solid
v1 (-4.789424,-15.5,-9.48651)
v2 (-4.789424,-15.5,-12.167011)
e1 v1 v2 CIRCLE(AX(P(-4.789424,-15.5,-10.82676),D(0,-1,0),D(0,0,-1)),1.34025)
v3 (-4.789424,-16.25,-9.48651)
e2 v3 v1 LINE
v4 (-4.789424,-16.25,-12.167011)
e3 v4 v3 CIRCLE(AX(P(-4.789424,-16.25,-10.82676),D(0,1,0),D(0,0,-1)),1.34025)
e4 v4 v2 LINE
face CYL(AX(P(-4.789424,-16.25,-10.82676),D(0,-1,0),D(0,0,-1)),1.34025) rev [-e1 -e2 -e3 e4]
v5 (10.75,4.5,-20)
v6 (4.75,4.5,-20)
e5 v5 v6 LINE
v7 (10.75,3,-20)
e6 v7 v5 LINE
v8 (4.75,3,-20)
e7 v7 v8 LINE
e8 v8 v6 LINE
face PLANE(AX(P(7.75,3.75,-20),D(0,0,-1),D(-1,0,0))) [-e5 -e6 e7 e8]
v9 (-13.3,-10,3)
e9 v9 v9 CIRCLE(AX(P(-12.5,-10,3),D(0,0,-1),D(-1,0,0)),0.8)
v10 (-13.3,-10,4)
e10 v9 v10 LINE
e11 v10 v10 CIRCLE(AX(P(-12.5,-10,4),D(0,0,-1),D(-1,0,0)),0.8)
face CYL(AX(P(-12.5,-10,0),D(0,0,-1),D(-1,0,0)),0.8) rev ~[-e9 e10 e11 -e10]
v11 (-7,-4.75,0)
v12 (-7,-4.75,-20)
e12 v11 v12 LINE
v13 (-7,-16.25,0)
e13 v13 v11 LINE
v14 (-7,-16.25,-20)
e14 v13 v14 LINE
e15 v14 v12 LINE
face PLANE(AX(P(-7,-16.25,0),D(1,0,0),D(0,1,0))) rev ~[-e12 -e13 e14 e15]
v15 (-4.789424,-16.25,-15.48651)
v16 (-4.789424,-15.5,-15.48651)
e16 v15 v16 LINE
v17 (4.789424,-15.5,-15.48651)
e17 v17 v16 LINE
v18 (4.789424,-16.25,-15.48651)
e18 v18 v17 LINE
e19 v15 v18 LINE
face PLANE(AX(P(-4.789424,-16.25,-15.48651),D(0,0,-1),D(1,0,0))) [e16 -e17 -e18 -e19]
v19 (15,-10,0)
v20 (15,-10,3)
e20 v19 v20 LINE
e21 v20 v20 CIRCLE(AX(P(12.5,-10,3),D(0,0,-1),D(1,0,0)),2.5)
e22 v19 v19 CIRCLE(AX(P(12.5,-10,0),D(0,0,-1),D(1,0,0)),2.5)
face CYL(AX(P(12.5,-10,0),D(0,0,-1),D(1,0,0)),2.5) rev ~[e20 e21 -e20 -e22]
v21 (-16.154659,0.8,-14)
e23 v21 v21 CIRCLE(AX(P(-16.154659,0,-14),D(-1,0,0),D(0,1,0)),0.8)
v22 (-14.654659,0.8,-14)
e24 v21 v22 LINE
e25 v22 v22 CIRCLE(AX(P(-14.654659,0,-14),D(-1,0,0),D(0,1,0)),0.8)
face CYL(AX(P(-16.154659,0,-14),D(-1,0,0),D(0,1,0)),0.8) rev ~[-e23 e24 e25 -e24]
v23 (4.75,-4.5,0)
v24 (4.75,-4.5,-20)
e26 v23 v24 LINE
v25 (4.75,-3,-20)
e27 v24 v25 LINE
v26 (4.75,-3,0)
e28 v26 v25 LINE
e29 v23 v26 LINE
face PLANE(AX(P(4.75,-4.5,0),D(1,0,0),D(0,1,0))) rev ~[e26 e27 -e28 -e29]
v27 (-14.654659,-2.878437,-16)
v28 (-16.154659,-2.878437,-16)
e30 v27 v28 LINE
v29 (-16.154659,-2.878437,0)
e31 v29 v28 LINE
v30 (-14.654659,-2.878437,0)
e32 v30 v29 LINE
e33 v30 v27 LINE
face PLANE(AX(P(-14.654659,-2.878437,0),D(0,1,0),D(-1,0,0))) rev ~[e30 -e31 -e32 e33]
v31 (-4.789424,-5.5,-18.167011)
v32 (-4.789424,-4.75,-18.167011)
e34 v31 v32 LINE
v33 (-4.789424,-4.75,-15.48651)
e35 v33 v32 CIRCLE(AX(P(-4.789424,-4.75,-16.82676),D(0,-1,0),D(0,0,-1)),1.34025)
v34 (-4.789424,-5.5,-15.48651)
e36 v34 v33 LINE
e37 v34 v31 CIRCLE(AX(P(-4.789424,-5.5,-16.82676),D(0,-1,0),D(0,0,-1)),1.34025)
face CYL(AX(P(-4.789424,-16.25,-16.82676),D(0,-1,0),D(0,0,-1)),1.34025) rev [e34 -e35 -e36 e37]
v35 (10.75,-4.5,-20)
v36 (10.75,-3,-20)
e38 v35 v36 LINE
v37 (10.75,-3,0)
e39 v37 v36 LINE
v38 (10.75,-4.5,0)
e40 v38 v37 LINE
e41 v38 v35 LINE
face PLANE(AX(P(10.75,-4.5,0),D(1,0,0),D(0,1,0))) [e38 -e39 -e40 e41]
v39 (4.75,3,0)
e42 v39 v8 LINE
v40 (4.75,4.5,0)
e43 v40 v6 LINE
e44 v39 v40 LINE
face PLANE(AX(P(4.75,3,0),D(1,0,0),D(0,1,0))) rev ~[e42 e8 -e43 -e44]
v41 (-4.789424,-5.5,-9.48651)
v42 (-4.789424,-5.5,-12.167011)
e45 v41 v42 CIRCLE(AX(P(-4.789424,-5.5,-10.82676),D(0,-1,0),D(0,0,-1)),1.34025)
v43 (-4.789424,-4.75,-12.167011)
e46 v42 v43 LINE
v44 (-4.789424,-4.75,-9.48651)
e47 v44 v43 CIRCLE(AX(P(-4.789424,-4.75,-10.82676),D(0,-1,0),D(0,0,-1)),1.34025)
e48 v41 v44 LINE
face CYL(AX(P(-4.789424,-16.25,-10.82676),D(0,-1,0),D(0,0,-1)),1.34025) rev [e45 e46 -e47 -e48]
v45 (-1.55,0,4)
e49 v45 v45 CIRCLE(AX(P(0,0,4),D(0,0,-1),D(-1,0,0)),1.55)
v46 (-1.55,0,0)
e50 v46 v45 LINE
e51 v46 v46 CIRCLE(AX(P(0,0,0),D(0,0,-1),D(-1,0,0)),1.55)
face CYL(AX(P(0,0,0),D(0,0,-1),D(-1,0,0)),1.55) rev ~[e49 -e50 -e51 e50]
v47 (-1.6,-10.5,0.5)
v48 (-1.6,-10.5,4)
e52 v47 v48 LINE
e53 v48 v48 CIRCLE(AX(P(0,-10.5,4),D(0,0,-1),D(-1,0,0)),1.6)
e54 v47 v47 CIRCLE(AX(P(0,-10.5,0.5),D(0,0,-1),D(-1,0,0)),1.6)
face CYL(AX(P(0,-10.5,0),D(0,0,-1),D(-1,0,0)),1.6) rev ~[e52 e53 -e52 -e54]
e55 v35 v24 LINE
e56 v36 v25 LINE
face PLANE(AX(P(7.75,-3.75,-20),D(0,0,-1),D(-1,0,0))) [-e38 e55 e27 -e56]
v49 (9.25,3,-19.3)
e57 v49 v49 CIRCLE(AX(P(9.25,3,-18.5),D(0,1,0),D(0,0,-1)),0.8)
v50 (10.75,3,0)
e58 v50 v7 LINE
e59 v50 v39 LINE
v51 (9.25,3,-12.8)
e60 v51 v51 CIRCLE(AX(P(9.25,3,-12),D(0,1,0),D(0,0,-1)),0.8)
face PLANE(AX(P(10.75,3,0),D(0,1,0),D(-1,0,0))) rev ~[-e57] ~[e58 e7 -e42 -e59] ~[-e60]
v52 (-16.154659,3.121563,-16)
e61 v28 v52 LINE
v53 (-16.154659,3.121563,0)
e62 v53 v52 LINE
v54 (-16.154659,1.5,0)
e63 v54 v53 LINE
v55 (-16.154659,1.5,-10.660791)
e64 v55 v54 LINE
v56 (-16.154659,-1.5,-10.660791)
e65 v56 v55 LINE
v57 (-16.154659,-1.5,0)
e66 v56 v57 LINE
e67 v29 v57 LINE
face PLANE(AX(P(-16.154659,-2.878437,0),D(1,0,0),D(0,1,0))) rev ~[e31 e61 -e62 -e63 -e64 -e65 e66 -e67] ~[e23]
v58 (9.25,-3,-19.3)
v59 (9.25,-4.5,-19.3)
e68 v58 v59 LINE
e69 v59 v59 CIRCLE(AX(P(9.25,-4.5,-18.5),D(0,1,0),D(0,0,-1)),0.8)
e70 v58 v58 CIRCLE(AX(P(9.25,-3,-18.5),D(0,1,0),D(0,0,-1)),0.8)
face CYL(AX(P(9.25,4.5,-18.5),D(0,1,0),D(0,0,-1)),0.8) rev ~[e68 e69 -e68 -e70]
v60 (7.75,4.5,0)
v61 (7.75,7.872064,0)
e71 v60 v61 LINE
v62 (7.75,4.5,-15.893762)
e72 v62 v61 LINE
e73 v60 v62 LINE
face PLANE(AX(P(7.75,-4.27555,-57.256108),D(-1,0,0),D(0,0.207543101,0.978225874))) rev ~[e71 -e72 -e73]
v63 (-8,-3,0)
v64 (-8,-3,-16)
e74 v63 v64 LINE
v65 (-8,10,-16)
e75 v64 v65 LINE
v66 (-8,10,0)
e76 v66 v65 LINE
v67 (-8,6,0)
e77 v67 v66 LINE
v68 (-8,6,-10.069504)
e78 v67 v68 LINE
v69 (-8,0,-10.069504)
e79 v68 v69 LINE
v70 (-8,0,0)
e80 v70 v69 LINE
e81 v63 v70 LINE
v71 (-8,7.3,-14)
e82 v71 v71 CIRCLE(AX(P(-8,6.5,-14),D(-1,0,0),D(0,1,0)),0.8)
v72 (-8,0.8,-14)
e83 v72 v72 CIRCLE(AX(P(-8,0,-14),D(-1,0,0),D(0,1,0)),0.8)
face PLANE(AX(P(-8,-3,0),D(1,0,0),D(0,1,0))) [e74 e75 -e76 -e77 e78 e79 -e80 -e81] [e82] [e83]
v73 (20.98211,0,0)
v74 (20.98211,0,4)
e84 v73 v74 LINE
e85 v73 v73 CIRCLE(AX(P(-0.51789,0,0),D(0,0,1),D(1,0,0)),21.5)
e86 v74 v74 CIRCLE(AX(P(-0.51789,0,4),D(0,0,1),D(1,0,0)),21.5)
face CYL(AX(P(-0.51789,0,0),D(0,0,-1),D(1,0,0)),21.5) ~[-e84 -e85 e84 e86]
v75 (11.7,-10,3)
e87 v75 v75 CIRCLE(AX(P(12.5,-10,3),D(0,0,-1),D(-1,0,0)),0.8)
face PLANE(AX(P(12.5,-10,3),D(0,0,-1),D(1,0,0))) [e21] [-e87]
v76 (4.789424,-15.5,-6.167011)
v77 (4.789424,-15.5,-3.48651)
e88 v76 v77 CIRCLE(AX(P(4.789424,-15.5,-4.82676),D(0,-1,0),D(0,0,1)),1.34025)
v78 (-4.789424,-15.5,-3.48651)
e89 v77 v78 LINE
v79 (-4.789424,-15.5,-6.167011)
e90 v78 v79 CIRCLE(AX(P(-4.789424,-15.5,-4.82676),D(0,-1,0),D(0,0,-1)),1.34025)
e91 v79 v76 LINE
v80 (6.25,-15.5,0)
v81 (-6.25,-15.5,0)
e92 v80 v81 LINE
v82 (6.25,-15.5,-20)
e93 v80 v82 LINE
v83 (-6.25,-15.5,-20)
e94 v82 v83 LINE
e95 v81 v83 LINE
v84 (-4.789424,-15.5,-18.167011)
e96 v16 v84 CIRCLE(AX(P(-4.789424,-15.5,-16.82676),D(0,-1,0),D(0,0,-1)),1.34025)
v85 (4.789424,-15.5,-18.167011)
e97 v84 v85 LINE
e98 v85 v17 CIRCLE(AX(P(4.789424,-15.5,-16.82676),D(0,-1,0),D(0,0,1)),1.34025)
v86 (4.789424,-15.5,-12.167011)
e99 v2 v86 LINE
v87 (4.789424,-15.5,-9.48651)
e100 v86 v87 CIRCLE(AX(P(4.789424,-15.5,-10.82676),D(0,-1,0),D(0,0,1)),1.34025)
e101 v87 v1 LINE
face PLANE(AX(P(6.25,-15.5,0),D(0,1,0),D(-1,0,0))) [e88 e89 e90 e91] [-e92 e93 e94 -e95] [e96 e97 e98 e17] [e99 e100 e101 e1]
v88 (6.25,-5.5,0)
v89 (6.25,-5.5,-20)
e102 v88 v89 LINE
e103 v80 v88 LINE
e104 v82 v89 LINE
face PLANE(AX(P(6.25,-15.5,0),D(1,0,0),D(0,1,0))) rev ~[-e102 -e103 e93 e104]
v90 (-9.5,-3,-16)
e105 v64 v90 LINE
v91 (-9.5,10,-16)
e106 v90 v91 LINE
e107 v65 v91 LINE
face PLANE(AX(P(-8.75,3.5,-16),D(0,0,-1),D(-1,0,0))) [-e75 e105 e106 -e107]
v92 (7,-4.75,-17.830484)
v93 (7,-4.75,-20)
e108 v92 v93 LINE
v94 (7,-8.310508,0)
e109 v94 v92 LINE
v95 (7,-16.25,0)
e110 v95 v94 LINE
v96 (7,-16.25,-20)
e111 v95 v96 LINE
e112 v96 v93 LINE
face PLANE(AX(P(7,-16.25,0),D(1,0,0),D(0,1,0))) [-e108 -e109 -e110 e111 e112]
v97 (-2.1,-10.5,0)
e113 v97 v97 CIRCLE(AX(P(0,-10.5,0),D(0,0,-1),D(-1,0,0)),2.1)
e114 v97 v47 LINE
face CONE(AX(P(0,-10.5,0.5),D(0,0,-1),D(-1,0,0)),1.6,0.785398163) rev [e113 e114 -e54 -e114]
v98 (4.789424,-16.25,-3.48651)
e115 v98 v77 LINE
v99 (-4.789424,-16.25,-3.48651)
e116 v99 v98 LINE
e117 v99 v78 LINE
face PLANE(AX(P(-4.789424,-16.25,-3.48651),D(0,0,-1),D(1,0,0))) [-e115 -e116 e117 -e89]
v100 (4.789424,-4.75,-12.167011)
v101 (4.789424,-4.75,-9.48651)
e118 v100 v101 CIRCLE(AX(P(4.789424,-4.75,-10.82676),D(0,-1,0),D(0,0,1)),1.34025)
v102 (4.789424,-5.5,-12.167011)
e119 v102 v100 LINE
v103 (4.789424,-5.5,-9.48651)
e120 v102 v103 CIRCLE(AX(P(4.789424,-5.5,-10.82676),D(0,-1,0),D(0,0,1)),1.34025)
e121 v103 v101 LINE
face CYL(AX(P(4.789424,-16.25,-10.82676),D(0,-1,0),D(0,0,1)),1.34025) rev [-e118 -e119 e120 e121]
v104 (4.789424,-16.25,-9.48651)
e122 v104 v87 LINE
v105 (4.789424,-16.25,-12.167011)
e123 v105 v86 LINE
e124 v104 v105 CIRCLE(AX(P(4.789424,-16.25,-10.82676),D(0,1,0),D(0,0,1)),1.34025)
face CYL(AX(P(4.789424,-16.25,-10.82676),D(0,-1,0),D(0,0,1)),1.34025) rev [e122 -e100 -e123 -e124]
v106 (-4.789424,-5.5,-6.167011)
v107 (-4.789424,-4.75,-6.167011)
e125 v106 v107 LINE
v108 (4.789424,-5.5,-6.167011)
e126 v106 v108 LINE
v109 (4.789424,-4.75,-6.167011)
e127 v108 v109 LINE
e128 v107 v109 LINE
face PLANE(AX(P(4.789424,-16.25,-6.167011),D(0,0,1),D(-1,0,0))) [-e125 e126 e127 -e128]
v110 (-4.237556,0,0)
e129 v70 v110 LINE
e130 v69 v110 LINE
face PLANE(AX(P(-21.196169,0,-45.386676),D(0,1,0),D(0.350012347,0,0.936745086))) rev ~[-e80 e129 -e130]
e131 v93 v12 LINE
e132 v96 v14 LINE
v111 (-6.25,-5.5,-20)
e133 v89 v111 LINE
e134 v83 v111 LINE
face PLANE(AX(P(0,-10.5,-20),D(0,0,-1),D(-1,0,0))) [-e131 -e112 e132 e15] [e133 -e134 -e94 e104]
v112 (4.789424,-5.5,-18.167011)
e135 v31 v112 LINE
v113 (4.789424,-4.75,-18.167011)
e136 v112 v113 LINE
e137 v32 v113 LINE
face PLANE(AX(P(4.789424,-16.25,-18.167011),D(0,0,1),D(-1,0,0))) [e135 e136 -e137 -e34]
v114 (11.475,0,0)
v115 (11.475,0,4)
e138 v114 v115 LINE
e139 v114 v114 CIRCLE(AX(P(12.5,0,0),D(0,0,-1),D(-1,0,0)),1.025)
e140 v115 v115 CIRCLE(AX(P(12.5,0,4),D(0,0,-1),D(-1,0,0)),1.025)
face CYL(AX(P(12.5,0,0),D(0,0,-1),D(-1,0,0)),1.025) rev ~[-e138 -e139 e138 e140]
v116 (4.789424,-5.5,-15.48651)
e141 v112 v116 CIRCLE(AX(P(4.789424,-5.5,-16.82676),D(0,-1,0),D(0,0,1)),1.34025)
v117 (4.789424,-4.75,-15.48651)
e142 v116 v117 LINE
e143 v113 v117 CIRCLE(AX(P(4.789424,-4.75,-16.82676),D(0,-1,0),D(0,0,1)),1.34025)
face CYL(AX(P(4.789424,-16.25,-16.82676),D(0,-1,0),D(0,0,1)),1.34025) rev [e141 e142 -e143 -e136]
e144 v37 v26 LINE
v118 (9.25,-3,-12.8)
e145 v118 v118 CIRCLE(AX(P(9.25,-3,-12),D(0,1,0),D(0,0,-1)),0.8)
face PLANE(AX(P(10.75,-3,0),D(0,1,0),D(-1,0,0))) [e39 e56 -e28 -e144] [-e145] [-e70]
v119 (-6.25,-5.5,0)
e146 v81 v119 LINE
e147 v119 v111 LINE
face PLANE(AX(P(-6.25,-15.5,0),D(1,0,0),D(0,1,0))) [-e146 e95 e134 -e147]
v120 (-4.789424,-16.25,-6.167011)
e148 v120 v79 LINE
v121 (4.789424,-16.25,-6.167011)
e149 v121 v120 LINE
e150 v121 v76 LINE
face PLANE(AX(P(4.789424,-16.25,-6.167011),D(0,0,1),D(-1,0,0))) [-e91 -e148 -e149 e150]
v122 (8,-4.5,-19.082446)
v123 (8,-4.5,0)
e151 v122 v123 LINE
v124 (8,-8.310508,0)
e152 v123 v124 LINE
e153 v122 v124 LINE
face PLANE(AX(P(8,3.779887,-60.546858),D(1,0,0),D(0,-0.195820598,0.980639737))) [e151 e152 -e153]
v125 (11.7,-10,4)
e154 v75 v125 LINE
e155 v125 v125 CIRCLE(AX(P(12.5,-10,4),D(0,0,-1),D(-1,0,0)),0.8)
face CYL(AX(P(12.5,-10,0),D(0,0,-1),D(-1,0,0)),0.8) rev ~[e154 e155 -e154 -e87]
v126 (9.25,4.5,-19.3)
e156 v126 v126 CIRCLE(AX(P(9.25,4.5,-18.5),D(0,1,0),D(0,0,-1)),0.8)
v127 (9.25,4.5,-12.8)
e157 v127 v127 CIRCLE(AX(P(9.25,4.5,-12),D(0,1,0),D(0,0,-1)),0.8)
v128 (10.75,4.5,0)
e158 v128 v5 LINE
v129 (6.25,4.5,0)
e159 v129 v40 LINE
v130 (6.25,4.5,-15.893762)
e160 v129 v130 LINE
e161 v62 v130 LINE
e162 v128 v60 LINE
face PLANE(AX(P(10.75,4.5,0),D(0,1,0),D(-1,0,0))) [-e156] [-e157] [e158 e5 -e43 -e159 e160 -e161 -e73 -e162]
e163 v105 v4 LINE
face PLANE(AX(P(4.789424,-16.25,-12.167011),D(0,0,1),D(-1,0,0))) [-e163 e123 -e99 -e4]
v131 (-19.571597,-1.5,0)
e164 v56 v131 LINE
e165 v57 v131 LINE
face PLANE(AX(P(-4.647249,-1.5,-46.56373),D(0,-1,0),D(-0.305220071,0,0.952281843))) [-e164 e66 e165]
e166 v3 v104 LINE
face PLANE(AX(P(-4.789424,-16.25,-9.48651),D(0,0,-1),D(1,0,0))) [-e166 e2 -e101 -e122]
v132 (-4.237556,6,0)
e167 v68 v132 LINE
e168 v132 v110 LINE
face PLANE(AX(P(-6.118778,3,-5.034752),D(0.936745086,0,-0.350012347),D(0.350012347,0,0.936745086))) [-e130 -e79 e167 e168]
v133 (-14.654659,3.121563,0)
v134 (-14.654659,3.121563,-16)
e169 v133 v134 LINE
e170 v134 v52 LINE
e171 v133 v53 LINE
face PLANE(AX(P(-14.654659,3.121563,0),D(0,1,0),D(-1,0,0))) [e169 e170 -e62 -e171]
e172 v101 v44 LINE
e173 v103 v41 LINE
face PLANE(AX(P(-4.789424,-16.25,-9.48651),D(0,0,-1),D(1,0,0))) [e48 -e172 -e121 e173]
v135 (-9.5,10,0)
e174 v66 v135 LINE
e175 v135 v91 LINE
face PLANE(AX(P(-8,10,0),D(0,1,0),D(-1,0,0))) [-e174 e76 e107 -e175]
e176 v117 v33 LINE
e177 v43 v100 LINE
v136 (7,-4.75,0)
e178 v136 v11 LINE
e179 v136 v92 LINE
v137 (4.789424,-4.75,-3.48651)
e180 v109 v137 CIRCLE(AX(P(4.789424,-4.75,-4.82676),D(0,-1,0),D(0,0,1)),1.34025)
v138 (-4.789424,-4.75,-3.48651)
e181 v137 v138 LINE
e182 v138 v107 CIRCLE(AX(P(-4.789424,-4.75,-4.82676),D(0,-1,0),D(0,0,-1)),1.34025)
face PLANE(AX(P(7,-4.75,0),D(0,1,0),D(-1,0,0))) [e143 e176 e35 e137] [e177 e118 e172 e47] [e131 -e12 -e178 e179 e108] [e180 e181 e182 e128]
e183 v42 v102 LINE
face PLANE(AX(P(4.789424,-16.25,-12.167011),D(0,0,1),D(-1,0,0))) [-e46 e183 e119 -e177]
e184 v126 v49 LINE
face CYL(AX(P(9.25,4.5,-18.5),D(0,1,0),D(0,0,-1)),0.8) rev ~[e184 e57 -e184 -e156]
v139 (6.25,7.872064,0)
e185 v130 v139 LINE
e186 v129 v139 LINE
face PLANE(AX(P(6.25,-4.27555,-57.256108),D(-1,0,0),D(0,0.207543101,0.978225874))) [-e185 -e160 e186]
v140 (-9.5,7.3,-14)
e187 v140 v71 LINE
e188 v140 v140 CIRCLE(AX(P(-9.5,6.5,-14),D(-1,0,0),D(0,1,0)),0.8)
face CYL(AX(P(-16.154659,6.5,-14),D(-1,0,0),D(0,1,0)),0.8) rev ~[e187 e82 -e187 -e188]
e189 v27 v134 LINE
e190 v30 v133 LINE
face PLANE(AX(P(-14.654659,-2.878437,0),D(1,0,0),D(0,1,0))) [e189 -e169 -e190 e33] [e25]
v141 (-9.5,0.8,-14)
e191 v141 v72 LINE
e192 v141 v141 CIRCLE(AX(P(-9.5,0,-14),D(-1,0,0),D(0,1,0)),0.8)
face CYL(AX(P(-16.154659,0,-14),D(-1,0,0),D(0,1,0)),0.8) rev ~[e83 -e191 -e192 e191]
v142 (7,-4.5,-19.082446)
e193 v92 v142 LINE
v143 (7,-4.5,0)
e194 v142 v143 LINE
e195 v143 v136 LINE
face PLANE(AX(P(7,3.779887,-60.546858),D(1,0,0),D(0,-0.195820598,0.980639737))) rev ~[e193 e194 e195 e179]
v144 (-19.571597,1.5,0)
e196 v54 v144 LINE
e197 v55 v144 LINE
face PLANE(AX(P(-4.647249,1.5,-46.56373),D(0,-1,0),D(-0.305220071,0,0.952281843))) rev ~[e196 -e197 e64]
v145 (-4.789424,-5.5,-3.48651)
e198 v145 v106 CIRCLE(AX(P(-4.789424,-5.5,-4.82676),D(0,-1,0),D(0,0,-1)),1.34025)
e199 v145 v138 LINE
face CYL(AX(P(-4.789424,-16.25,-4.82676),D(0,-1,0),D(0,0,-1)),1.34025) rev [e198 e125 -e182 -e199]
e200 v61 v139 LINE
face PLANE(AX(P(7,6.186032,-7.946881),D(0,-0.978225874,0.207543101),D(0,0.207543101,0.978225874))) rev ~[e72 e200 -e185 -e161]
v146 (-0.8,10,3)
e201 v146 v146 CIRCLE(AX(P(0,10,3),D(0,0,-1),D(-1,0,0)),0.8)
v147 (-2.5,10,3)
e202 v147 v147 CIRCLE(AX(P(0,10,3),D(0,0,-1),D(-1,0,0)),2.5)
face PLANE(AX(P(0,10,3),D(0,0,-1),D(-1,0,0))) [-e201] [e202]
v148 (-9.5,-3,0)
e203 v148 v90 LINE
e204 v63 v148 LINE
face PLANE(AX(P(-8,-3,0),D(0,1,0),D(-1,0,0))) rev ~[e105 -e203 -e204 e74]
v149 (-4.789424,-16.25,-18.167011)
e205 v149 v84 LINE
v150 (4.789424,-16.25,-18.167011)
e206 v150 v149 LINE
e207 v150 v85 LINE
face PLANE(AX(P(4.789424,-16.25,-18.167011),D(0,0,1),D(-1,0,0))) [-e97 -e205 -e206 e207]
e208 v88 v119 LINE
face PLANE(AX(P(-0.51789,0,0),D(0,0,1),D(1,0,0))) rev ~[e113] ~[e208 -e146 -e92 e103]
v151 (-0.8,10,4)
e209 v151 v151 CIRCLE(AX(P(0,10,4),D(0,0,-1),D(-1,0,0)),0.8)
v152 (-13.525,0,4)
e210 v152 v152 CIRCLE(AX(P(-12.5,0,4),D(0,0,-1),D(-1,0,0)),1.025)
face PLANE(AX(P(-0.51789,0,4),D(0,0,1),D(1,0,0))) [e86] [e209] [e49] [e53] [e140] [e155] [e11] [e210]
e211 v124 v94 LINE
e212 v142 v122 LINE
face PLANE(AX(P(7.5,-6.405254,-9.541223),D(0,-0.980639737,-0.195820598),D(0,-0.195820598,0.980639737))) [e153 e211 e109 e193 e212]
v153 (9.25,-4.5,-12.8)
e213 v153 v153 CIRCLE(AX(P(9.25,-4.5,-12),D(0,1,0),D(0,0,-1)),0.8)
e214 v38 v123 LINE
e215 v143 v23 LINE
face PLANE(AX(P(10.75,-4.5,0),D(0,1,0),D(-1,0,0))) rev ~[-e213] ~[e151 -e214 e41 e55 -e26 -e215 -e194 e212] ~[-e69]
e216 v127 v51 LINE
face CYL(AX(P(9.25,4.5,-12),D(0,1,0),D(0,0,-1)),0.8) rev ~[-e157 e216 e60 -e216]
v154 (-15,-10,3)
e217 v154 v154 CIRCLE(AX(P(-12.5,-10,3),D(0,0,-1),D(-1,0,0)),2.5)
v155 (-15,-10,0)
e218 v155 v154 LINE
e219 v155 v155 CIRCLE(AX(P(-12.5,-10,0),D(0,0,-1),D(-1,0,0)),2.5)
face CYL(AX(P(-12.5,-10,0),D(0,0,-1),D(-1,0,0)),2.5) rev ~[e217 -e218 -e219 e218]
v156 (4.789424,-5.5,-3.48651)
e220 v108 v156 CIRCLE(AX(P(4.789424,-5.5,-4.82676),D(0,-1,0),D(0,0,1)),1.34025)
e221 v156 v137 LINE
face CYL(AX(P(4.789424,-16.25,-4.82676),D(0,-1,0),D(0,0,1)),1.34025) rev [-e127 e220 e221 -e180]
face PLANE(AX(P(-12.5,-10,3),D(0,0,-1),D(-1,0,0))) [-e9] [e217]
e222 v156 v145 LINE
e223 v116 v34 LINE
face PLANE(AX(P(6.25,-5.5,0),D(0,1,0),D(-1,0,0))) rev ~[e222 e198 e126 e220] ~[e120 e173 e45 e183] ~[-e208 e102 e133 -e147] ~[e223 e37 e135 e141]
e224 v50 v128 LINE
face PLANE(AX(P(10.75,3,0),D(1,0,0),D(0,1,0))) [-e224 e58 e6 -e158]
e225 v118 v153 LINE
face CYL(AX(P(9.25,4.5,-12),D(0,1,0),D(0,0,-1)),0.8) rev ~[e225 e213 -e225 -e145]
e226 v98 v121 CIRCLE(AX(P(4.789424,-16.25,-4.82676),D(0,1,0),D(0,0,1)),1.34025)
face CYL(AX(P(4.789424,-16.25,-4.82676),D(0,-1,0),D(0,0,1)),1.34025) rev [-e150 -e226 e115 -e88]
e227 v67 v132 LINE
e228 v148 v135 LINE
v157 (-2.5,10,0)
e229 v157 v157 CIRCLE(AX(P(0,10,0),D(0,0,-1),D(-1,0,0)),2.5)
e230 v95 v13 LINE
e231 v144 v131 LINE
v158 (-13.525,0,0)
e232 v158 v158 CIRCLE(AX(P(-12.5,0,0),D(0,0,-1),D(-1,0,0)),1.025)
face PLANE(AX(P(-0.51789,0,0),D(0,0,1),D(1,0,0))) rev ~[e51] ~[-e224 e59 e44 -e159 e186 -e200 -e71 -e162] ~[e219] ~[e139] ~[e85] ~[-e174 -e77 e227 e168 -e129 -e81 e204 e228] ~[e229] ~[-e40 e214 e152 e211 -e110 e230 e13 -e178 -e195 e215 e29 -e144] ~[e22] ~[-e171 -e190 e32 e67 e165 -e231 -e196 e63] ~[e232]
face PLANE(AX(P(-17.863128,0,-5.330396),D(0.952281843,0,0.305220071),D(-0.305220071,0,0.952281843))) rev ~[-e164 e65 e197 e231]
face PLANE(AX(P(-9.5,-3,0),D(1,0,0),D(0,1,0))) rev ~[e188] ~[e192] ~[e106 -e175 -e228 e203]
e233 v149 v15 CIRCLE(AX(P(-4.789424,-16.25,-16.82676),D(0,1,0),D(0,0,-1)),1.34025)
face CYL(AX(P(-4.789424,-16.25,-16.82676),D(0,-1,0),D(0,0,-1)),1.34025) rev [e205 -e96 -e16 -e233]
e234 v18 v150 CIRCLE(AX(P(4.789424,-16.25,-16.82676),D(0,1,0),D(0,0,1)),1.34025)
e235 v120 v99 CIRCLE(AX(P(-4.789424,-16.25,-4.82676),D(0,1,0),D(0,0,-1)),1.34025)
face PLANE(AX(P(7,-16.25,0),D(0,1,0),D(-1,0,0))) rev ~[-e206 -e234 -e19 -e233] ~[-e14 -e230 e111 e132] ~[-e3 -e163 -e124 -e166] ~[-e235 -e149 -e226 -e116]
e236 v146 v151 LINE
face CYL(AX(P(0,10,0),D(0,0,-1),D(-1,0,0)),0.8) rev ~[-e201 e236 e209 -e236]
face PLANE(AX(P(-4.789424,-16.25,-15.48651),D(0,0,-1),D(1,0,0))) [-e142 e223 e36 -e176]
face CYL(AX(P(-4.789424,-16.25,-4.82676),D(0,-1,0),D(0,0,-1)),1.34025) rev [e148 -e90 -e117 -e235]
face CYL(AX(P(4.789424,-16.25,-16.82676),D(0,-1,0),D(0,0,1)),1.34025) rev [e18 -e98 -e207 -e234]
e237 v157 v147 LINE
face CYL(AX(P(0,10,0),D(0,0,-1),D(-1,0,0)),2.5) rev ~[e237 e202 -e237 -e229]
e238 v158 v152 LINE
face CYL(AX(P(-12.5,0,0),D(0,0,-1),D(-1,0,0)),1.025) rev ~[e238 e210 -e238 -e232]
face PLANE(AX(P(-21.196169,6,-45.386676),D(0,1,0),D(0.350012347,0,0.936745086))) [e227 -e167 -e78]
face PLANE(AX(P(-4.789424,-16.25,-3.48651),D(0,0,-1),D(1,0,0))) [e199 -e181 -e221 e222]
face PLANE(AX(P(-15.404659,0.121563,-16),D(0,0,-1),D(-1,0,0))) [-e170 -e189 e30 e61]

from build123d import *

# Parameters (mm, degrees)
SKETCH_1_R           = 21.5
EXTRUDE_1_DEPTH      = 4
SKETCH_2_R           = 1.55
CUT_EXTRUDE_1_DEPTH  = 32.032845297
SKETCH_3_R           = 1.025
CUT_EXTRUDE_4_DEPTH  = 32.032845297
SKETCH_3_3_R         = 2.5
CUT_EXTRUDE_5_DEPTH  = 3
SKETCH_4_R           = 0.8
CUT_EXTRUDE_6_DEPTH  = 32.032845297
SKETCH_5_R           = 1.6
CUT_EXTRUDE_7_DEPTH  = 32.032845297
CHAMFER_1_SIZE       = 0.5
SKETCH_6_W           = 14
SKETCH_6_H           = 11.5
SKETCH_6_W_2         = 12.5
SKETCH_6_H_2         = 10
EXTRUDE_2_DEPTH      = 20
CUT_EXTRUDE_8_DEPTH  = 49.060898735
SKETCH_9_W           = 1.5
SKETCH_9_H           = 13
SKETCH_9_H_2         = 6
EXTRUDE_3_DEPTH      = 16
SKETCH_10_R          = 0.8
CUT_EXTRUDE_9_DEPTH  = 48.343316459
SKETCH_11_W          = 6
SKETCH_11_H          = 1.5
EXTRUDE_4_DEPTH      = 20
SKETCH_12_R          = 0.8
CUT_EXTRUDE_10_DEPTH = 40.50680305
RIB_12_REACH         = 38.702
SKETCH_19_WALL_W     = 86.599014246
SKETCH_19_WALL_H     = 3
RIB_14_REACH         = 38.702
SKETCH_22_WALL_W     = 86.153478968
SKETCH_22_WALL_H     = 6
RIB_44_REACH         = 43.283
SKETCH_24_WALL_W     = 100.8135827
SKETCH_24_WALL_H     = 1.5
RIB_46_REACH         = 43.283
SKETCH_25_WALL_W     = 104.02522593
SKETCH_25_WALL_H     = 1


with BuildPart() as part:
    # 草图1 → 凸台-拉伸1 (new body)
    with BuildSketch(Plane.XY):
        with Locations((-0.517890163, 0)):
            Circle(SKETCH_1_R)
    extrude(amount=EXTRUDE_1_DEPTH)

    # 草图2 → 切除-拉伸1 (cut, through all)
    with BuildSketch(Plane(origin=(0, 0, 0), x_dir=(-1, 0, 0), z_dir=(0, 0, -1))):
        Circle(SKETCH_2_R)
    extrude(amount=-CUT_EXTRUDE_1_DEPTH, mode=Mode.SUBTRACT)

    # 草图3 → 切除-拉伸4 (cut, through all)
    with BuildSketch(Plane(origin=(0, 0, 0), x_dir=(-1, 0, 0), z_dir=(0, 0, -1))):
        with Locations((12.5, 0)):
            Circle(SKETCH_3_R)
        with Locations((-12.5, 0)):
            Circle(SKETCH_3_R)
    extrude(amount=-CUT_EXTRUDE_4_DEPTH, mode=Mode.SUBTRACT)

    # 草图3<3> → 切除-拉伸5 (cut)
    with BuildSketch(Plane(origin=(0, 0, 0), x_dir=(-1, 0, 0), z_dir=(0, 0, -1))):
        with Locations((0, 10)):
            Circle(SKETCH_3_3_R)
        with Locations((12.5, -10)):
            Circle(SKETCH_3_3_R)
        with Locations(Location((-12.5, -10, 0), (0, 0, 180))):
            Circle(SKETCH_3_3_R)
    extrude(amount=-CUT_EXTRUDE_5_DEPTH, mode=Mode.SUBTRACT)

    # 草图4 → 切除-拉伸6 (cut, through all)
    with BuildSketch(Plane(origin=(0, 0, 0), x_dir=(-1, 0, 0), z_dir=(0, 0, -1))):
        with Locations((0, 10)):
            Circle(SKETCH_4_R)
        with Locations((-12.5, -10)):
            Circle(SKETCH_4_R)
        with Locations((12.5, -10)):
            Circle(SKETCH_4_R)
    extrude(amount=-CUT_EXTRUDE_6_DEPTH, mode=Mode.SUBTRACT)

    # 草图5 → 切除-拉伸7 (cut, through all)
    with BuildSketch(Plane(origin=(0, 0, 0), x_dir=(-1, 0, 0), z_dir=(0, 0, -1))):
        with Locations((0, -10.5)):
            Circle(SKETCH_5_R)
    extrude(amount=-CUT_EXTRUDE_7_DEPTH, mode=Mode.SUBTRACT)

    # 倒角1
    chamfer_1_edges = [part.edges().sort_by_distance(p)[0] for p in [
        (1.6, -10.5, 0),
    ]]
    chamfer(chamfer_1_edges, length=CHAMFER_1_SIZE)

    # 草图6 → 凸台-拉伸2 (add)
    with BuildSketch(Plane(origin=(0, 0, 0), x_dir=(-1, 0, 0), z_dir=(0, 0, -1))):
        with Locations((0, -10.5)):
            Rectangle(SKETCH_6_W, SKETCH_6_H)
        with Locations((0, -10.5)):
            Rectangle(SKETCH_6_W_2, SKETCH_6_H_2, mode=Mode.SUBTRACT)
    extrude(amount=EXTRUDE_2_DEPTH)

    # 草图8 → 切除-拉伸8 (cut, through all)
    with BuildSketch(Plane.XZ.offset(16.25)):
        with BuildLine():
            Line((-4.789423927, -3.486509961), (4.789423927, -3.486509961))
            ThreePointArc((4.789423927, -3.486509961), (6.129674245, -4.826760278), (4.789423927, -6.167010596))
            Line((4.789423927, -6.167010596), (-4.789423927, -6.167010596))
            ThreePointArc((-4.789423927, -6.167010596), (-6.129674245, -4.826760278), (-4.789423927, -3.486509961))
        make_face()
        with BuildLine():
            Line((-4.789423927, -9.486509961), (4.789423927, -9.486509961))
            ThreePointArc((4.789423927, -9.486509961), (6.129674245, -10.826760278), (4.789423927, -12.167010596))
            Line((4.789423927, -12.167010596), (-4.789423927, -12.167010596))
            ThreePointArc((-4.789423927, -12.167010596), (-6.129674245, -10.826760278), (-4.789423927, -9.486509961))
        make_face()
        with BuildLine():
            Line((-4.789423927, -15.486509961), (4.789423927, -15.486509961))
            ThreePointArc((4.789423927, -15.486509961), (6.129674245, -16.826760278), (4.789423927, -18.167010596))
            Line((4.789423927, -18.167010596), (-4.789423927, -18.167010596))
            ThreePointArc((-4.789423927, -18.167010596), (-6.129674245, -16.826760278), (-4.789423927, -15.486509961))
        make_face()
    extrude(amount=-CUT_EXTRUDE_8_DEPTH, mode=Mode.SUBTRACT)

    # 草图9 → 凸台-拉伸3 (add)
    with BuildSketch(Plane(origin=(0, 0, 0), x_dir=(-1, 0, 0), z_dir=(0, 0, -1))):
        with Locations((8.75, 3.5)):
            Rectangle(SKETCH_9_W, SKETCH_9_H)
        with Locations((15.404659184, 0.121563114)):
            Rectangle(SKETCH_9_W, SKETCH_9_H_2)
    extrude(amount=EXTRUDE_3_DEPTH)

    # 草图10 → 切除-拉伸9 (cut, through all)
    with BuildSketch(Plane.ZY.offset(16.154659184)):
        with Locations(Location((-14, 0, 0), (0, 0, 90))):
            Circle(SKETCH_10_R)
        with Locations(Location((-14, 6.5, 0), (0, 0, 90))):
            Circle(SKETCH_10_R)
    extrude(amount=-CUT_EXTRUDE_9_DEPTH, mode=Mode.SUBTRACT)

    # 草图11 → 凸台-拉伸4 (add)
    with BuildSketch(Plane(origin=(0, 0, 0), x_dir=(-1, 0, 0), z_dir=(0, 0, -1))):
        with Locations((-7.75, -3.75)):
            Rectangle(SKETCH_11_W, SKETCH_11_H)
        with Locations((-7.75, 3.75)):
            Rectangle(SKETCH_11_W, SKETCH_11_H)
    extrude(amount=EXTRUDE_4_DEPTH)

    # 草图12 → 切除-拉伸10 (cut, through all)
    with BuildSketch(Plane(origin=(0, 4.5, 0), x_dir=(1, 0, 0), z_dir=(0, 1, 0))):
        with Locations(Location((9.25, 18.5, 0), (0, 0, 90))):
            Circle(SKETCH_12_R)
        with Locations(Location((9.25, 12, 0), (0, 0, 90))):
            Circle(SKETCH_12_R)
    extrude(amount=-CUT_EXTRUDE_10_DEPTH, mode=Mode.SUBTRACT)

    # 草图19 wall → 筋12 (add, up to next)
    with BuildSketch(Plane(origin=(-17.863127863, 0, -5.330395536), x_dir=(-0.305220070795, 0, 0.952281842935), z_dir=(0.952281842935, 0, 0.305220070795)), mode=Mode.PRIVATE) as rib_12_sk1:
        Rectangle(SKETCH_19_WALL_W, SKETCH_19_WALL_H)
    rib_12_tool1 = extrude(rib_12_sk1.sketch, amount=RIB_12_REACH, mode=Mode.PRIVATE) - part.part
    add(rib_12_tool1.solids().sort_by_distance((-17.863127863, 0, -5.330395536))[0])

    # 草图22 wall → 筋14 (add, up to next)
    with BuildSketch(Plane(origin=(-6.118778075, 0, -5.034752083), x_dir=(0.350012347277, 0, 0.936745086325), z_dir=(0.936745086325, 0, -0.350012347277)), mode=Mode.PRIVATE) as rib_14_sk1:
        with Locations((0, -3)):
            Rectangle(SKETCH_22_WALL_W, SKETCH_22_WALL_H)
    rib_14_tool1 = extrude(rib_14_sk1.sketch, amount=-RIB_14_REACH, mode=Mode.PRIVATE) - part.part
    add(rib_14_tool1.solids().sort_by_distance((-6.118778075, 0, -5.034752083))[0])

    # 草图24 wall → 筋44 (add, up to next)
    with BuildSketch(Plane(origin=(7, 6.186032175, -7.946880852), x_dir=(0, 0.20754310132, 0.978225874272), z_dir=(0, -0.978225874272, 0.20754310132)), mode=Mode.PRIVATE) as rib_44_sk1:
        Rectangle(SKETCH_24_WALL_W, SKETCH_24_WALL_H)
    rib_44_tool1 = extrude(rib_44_sk1.sketch, amount=RIB_44_REACH, mode=Mode.PRIVATE) - part.part
    add(rib_44_tool1.solids().sort_by_distance((7, 6.186032175, -7.946880852))[0])

    # 草图25 wall → 筋46 (add, up to next)
    with BuildSketch(Plane(origin=(7, -6.405254219, -9.541222999), x_dir=(0, -0.195820598306, 0.980639736743), z_dir=(0, -0.980639736743, -0.195820598306)), mode=Mode.PRIVATE) as rib_46_sk1:
        with Locations((0, -0.5)):
            Rectangle(SKETCH_25_WALL_W, SKETCH_25_WALL_H)
    rib_46_tool1 = extrude(rib_46_sk1.sketch, amount=-RIB_46_REACH, mode=Mode.PRIVATE) - part.part
    add(rib_46_tool1.solids().sort_by_distance((7, -6.405254219, -9.541222999))[0])


solid = part.part
